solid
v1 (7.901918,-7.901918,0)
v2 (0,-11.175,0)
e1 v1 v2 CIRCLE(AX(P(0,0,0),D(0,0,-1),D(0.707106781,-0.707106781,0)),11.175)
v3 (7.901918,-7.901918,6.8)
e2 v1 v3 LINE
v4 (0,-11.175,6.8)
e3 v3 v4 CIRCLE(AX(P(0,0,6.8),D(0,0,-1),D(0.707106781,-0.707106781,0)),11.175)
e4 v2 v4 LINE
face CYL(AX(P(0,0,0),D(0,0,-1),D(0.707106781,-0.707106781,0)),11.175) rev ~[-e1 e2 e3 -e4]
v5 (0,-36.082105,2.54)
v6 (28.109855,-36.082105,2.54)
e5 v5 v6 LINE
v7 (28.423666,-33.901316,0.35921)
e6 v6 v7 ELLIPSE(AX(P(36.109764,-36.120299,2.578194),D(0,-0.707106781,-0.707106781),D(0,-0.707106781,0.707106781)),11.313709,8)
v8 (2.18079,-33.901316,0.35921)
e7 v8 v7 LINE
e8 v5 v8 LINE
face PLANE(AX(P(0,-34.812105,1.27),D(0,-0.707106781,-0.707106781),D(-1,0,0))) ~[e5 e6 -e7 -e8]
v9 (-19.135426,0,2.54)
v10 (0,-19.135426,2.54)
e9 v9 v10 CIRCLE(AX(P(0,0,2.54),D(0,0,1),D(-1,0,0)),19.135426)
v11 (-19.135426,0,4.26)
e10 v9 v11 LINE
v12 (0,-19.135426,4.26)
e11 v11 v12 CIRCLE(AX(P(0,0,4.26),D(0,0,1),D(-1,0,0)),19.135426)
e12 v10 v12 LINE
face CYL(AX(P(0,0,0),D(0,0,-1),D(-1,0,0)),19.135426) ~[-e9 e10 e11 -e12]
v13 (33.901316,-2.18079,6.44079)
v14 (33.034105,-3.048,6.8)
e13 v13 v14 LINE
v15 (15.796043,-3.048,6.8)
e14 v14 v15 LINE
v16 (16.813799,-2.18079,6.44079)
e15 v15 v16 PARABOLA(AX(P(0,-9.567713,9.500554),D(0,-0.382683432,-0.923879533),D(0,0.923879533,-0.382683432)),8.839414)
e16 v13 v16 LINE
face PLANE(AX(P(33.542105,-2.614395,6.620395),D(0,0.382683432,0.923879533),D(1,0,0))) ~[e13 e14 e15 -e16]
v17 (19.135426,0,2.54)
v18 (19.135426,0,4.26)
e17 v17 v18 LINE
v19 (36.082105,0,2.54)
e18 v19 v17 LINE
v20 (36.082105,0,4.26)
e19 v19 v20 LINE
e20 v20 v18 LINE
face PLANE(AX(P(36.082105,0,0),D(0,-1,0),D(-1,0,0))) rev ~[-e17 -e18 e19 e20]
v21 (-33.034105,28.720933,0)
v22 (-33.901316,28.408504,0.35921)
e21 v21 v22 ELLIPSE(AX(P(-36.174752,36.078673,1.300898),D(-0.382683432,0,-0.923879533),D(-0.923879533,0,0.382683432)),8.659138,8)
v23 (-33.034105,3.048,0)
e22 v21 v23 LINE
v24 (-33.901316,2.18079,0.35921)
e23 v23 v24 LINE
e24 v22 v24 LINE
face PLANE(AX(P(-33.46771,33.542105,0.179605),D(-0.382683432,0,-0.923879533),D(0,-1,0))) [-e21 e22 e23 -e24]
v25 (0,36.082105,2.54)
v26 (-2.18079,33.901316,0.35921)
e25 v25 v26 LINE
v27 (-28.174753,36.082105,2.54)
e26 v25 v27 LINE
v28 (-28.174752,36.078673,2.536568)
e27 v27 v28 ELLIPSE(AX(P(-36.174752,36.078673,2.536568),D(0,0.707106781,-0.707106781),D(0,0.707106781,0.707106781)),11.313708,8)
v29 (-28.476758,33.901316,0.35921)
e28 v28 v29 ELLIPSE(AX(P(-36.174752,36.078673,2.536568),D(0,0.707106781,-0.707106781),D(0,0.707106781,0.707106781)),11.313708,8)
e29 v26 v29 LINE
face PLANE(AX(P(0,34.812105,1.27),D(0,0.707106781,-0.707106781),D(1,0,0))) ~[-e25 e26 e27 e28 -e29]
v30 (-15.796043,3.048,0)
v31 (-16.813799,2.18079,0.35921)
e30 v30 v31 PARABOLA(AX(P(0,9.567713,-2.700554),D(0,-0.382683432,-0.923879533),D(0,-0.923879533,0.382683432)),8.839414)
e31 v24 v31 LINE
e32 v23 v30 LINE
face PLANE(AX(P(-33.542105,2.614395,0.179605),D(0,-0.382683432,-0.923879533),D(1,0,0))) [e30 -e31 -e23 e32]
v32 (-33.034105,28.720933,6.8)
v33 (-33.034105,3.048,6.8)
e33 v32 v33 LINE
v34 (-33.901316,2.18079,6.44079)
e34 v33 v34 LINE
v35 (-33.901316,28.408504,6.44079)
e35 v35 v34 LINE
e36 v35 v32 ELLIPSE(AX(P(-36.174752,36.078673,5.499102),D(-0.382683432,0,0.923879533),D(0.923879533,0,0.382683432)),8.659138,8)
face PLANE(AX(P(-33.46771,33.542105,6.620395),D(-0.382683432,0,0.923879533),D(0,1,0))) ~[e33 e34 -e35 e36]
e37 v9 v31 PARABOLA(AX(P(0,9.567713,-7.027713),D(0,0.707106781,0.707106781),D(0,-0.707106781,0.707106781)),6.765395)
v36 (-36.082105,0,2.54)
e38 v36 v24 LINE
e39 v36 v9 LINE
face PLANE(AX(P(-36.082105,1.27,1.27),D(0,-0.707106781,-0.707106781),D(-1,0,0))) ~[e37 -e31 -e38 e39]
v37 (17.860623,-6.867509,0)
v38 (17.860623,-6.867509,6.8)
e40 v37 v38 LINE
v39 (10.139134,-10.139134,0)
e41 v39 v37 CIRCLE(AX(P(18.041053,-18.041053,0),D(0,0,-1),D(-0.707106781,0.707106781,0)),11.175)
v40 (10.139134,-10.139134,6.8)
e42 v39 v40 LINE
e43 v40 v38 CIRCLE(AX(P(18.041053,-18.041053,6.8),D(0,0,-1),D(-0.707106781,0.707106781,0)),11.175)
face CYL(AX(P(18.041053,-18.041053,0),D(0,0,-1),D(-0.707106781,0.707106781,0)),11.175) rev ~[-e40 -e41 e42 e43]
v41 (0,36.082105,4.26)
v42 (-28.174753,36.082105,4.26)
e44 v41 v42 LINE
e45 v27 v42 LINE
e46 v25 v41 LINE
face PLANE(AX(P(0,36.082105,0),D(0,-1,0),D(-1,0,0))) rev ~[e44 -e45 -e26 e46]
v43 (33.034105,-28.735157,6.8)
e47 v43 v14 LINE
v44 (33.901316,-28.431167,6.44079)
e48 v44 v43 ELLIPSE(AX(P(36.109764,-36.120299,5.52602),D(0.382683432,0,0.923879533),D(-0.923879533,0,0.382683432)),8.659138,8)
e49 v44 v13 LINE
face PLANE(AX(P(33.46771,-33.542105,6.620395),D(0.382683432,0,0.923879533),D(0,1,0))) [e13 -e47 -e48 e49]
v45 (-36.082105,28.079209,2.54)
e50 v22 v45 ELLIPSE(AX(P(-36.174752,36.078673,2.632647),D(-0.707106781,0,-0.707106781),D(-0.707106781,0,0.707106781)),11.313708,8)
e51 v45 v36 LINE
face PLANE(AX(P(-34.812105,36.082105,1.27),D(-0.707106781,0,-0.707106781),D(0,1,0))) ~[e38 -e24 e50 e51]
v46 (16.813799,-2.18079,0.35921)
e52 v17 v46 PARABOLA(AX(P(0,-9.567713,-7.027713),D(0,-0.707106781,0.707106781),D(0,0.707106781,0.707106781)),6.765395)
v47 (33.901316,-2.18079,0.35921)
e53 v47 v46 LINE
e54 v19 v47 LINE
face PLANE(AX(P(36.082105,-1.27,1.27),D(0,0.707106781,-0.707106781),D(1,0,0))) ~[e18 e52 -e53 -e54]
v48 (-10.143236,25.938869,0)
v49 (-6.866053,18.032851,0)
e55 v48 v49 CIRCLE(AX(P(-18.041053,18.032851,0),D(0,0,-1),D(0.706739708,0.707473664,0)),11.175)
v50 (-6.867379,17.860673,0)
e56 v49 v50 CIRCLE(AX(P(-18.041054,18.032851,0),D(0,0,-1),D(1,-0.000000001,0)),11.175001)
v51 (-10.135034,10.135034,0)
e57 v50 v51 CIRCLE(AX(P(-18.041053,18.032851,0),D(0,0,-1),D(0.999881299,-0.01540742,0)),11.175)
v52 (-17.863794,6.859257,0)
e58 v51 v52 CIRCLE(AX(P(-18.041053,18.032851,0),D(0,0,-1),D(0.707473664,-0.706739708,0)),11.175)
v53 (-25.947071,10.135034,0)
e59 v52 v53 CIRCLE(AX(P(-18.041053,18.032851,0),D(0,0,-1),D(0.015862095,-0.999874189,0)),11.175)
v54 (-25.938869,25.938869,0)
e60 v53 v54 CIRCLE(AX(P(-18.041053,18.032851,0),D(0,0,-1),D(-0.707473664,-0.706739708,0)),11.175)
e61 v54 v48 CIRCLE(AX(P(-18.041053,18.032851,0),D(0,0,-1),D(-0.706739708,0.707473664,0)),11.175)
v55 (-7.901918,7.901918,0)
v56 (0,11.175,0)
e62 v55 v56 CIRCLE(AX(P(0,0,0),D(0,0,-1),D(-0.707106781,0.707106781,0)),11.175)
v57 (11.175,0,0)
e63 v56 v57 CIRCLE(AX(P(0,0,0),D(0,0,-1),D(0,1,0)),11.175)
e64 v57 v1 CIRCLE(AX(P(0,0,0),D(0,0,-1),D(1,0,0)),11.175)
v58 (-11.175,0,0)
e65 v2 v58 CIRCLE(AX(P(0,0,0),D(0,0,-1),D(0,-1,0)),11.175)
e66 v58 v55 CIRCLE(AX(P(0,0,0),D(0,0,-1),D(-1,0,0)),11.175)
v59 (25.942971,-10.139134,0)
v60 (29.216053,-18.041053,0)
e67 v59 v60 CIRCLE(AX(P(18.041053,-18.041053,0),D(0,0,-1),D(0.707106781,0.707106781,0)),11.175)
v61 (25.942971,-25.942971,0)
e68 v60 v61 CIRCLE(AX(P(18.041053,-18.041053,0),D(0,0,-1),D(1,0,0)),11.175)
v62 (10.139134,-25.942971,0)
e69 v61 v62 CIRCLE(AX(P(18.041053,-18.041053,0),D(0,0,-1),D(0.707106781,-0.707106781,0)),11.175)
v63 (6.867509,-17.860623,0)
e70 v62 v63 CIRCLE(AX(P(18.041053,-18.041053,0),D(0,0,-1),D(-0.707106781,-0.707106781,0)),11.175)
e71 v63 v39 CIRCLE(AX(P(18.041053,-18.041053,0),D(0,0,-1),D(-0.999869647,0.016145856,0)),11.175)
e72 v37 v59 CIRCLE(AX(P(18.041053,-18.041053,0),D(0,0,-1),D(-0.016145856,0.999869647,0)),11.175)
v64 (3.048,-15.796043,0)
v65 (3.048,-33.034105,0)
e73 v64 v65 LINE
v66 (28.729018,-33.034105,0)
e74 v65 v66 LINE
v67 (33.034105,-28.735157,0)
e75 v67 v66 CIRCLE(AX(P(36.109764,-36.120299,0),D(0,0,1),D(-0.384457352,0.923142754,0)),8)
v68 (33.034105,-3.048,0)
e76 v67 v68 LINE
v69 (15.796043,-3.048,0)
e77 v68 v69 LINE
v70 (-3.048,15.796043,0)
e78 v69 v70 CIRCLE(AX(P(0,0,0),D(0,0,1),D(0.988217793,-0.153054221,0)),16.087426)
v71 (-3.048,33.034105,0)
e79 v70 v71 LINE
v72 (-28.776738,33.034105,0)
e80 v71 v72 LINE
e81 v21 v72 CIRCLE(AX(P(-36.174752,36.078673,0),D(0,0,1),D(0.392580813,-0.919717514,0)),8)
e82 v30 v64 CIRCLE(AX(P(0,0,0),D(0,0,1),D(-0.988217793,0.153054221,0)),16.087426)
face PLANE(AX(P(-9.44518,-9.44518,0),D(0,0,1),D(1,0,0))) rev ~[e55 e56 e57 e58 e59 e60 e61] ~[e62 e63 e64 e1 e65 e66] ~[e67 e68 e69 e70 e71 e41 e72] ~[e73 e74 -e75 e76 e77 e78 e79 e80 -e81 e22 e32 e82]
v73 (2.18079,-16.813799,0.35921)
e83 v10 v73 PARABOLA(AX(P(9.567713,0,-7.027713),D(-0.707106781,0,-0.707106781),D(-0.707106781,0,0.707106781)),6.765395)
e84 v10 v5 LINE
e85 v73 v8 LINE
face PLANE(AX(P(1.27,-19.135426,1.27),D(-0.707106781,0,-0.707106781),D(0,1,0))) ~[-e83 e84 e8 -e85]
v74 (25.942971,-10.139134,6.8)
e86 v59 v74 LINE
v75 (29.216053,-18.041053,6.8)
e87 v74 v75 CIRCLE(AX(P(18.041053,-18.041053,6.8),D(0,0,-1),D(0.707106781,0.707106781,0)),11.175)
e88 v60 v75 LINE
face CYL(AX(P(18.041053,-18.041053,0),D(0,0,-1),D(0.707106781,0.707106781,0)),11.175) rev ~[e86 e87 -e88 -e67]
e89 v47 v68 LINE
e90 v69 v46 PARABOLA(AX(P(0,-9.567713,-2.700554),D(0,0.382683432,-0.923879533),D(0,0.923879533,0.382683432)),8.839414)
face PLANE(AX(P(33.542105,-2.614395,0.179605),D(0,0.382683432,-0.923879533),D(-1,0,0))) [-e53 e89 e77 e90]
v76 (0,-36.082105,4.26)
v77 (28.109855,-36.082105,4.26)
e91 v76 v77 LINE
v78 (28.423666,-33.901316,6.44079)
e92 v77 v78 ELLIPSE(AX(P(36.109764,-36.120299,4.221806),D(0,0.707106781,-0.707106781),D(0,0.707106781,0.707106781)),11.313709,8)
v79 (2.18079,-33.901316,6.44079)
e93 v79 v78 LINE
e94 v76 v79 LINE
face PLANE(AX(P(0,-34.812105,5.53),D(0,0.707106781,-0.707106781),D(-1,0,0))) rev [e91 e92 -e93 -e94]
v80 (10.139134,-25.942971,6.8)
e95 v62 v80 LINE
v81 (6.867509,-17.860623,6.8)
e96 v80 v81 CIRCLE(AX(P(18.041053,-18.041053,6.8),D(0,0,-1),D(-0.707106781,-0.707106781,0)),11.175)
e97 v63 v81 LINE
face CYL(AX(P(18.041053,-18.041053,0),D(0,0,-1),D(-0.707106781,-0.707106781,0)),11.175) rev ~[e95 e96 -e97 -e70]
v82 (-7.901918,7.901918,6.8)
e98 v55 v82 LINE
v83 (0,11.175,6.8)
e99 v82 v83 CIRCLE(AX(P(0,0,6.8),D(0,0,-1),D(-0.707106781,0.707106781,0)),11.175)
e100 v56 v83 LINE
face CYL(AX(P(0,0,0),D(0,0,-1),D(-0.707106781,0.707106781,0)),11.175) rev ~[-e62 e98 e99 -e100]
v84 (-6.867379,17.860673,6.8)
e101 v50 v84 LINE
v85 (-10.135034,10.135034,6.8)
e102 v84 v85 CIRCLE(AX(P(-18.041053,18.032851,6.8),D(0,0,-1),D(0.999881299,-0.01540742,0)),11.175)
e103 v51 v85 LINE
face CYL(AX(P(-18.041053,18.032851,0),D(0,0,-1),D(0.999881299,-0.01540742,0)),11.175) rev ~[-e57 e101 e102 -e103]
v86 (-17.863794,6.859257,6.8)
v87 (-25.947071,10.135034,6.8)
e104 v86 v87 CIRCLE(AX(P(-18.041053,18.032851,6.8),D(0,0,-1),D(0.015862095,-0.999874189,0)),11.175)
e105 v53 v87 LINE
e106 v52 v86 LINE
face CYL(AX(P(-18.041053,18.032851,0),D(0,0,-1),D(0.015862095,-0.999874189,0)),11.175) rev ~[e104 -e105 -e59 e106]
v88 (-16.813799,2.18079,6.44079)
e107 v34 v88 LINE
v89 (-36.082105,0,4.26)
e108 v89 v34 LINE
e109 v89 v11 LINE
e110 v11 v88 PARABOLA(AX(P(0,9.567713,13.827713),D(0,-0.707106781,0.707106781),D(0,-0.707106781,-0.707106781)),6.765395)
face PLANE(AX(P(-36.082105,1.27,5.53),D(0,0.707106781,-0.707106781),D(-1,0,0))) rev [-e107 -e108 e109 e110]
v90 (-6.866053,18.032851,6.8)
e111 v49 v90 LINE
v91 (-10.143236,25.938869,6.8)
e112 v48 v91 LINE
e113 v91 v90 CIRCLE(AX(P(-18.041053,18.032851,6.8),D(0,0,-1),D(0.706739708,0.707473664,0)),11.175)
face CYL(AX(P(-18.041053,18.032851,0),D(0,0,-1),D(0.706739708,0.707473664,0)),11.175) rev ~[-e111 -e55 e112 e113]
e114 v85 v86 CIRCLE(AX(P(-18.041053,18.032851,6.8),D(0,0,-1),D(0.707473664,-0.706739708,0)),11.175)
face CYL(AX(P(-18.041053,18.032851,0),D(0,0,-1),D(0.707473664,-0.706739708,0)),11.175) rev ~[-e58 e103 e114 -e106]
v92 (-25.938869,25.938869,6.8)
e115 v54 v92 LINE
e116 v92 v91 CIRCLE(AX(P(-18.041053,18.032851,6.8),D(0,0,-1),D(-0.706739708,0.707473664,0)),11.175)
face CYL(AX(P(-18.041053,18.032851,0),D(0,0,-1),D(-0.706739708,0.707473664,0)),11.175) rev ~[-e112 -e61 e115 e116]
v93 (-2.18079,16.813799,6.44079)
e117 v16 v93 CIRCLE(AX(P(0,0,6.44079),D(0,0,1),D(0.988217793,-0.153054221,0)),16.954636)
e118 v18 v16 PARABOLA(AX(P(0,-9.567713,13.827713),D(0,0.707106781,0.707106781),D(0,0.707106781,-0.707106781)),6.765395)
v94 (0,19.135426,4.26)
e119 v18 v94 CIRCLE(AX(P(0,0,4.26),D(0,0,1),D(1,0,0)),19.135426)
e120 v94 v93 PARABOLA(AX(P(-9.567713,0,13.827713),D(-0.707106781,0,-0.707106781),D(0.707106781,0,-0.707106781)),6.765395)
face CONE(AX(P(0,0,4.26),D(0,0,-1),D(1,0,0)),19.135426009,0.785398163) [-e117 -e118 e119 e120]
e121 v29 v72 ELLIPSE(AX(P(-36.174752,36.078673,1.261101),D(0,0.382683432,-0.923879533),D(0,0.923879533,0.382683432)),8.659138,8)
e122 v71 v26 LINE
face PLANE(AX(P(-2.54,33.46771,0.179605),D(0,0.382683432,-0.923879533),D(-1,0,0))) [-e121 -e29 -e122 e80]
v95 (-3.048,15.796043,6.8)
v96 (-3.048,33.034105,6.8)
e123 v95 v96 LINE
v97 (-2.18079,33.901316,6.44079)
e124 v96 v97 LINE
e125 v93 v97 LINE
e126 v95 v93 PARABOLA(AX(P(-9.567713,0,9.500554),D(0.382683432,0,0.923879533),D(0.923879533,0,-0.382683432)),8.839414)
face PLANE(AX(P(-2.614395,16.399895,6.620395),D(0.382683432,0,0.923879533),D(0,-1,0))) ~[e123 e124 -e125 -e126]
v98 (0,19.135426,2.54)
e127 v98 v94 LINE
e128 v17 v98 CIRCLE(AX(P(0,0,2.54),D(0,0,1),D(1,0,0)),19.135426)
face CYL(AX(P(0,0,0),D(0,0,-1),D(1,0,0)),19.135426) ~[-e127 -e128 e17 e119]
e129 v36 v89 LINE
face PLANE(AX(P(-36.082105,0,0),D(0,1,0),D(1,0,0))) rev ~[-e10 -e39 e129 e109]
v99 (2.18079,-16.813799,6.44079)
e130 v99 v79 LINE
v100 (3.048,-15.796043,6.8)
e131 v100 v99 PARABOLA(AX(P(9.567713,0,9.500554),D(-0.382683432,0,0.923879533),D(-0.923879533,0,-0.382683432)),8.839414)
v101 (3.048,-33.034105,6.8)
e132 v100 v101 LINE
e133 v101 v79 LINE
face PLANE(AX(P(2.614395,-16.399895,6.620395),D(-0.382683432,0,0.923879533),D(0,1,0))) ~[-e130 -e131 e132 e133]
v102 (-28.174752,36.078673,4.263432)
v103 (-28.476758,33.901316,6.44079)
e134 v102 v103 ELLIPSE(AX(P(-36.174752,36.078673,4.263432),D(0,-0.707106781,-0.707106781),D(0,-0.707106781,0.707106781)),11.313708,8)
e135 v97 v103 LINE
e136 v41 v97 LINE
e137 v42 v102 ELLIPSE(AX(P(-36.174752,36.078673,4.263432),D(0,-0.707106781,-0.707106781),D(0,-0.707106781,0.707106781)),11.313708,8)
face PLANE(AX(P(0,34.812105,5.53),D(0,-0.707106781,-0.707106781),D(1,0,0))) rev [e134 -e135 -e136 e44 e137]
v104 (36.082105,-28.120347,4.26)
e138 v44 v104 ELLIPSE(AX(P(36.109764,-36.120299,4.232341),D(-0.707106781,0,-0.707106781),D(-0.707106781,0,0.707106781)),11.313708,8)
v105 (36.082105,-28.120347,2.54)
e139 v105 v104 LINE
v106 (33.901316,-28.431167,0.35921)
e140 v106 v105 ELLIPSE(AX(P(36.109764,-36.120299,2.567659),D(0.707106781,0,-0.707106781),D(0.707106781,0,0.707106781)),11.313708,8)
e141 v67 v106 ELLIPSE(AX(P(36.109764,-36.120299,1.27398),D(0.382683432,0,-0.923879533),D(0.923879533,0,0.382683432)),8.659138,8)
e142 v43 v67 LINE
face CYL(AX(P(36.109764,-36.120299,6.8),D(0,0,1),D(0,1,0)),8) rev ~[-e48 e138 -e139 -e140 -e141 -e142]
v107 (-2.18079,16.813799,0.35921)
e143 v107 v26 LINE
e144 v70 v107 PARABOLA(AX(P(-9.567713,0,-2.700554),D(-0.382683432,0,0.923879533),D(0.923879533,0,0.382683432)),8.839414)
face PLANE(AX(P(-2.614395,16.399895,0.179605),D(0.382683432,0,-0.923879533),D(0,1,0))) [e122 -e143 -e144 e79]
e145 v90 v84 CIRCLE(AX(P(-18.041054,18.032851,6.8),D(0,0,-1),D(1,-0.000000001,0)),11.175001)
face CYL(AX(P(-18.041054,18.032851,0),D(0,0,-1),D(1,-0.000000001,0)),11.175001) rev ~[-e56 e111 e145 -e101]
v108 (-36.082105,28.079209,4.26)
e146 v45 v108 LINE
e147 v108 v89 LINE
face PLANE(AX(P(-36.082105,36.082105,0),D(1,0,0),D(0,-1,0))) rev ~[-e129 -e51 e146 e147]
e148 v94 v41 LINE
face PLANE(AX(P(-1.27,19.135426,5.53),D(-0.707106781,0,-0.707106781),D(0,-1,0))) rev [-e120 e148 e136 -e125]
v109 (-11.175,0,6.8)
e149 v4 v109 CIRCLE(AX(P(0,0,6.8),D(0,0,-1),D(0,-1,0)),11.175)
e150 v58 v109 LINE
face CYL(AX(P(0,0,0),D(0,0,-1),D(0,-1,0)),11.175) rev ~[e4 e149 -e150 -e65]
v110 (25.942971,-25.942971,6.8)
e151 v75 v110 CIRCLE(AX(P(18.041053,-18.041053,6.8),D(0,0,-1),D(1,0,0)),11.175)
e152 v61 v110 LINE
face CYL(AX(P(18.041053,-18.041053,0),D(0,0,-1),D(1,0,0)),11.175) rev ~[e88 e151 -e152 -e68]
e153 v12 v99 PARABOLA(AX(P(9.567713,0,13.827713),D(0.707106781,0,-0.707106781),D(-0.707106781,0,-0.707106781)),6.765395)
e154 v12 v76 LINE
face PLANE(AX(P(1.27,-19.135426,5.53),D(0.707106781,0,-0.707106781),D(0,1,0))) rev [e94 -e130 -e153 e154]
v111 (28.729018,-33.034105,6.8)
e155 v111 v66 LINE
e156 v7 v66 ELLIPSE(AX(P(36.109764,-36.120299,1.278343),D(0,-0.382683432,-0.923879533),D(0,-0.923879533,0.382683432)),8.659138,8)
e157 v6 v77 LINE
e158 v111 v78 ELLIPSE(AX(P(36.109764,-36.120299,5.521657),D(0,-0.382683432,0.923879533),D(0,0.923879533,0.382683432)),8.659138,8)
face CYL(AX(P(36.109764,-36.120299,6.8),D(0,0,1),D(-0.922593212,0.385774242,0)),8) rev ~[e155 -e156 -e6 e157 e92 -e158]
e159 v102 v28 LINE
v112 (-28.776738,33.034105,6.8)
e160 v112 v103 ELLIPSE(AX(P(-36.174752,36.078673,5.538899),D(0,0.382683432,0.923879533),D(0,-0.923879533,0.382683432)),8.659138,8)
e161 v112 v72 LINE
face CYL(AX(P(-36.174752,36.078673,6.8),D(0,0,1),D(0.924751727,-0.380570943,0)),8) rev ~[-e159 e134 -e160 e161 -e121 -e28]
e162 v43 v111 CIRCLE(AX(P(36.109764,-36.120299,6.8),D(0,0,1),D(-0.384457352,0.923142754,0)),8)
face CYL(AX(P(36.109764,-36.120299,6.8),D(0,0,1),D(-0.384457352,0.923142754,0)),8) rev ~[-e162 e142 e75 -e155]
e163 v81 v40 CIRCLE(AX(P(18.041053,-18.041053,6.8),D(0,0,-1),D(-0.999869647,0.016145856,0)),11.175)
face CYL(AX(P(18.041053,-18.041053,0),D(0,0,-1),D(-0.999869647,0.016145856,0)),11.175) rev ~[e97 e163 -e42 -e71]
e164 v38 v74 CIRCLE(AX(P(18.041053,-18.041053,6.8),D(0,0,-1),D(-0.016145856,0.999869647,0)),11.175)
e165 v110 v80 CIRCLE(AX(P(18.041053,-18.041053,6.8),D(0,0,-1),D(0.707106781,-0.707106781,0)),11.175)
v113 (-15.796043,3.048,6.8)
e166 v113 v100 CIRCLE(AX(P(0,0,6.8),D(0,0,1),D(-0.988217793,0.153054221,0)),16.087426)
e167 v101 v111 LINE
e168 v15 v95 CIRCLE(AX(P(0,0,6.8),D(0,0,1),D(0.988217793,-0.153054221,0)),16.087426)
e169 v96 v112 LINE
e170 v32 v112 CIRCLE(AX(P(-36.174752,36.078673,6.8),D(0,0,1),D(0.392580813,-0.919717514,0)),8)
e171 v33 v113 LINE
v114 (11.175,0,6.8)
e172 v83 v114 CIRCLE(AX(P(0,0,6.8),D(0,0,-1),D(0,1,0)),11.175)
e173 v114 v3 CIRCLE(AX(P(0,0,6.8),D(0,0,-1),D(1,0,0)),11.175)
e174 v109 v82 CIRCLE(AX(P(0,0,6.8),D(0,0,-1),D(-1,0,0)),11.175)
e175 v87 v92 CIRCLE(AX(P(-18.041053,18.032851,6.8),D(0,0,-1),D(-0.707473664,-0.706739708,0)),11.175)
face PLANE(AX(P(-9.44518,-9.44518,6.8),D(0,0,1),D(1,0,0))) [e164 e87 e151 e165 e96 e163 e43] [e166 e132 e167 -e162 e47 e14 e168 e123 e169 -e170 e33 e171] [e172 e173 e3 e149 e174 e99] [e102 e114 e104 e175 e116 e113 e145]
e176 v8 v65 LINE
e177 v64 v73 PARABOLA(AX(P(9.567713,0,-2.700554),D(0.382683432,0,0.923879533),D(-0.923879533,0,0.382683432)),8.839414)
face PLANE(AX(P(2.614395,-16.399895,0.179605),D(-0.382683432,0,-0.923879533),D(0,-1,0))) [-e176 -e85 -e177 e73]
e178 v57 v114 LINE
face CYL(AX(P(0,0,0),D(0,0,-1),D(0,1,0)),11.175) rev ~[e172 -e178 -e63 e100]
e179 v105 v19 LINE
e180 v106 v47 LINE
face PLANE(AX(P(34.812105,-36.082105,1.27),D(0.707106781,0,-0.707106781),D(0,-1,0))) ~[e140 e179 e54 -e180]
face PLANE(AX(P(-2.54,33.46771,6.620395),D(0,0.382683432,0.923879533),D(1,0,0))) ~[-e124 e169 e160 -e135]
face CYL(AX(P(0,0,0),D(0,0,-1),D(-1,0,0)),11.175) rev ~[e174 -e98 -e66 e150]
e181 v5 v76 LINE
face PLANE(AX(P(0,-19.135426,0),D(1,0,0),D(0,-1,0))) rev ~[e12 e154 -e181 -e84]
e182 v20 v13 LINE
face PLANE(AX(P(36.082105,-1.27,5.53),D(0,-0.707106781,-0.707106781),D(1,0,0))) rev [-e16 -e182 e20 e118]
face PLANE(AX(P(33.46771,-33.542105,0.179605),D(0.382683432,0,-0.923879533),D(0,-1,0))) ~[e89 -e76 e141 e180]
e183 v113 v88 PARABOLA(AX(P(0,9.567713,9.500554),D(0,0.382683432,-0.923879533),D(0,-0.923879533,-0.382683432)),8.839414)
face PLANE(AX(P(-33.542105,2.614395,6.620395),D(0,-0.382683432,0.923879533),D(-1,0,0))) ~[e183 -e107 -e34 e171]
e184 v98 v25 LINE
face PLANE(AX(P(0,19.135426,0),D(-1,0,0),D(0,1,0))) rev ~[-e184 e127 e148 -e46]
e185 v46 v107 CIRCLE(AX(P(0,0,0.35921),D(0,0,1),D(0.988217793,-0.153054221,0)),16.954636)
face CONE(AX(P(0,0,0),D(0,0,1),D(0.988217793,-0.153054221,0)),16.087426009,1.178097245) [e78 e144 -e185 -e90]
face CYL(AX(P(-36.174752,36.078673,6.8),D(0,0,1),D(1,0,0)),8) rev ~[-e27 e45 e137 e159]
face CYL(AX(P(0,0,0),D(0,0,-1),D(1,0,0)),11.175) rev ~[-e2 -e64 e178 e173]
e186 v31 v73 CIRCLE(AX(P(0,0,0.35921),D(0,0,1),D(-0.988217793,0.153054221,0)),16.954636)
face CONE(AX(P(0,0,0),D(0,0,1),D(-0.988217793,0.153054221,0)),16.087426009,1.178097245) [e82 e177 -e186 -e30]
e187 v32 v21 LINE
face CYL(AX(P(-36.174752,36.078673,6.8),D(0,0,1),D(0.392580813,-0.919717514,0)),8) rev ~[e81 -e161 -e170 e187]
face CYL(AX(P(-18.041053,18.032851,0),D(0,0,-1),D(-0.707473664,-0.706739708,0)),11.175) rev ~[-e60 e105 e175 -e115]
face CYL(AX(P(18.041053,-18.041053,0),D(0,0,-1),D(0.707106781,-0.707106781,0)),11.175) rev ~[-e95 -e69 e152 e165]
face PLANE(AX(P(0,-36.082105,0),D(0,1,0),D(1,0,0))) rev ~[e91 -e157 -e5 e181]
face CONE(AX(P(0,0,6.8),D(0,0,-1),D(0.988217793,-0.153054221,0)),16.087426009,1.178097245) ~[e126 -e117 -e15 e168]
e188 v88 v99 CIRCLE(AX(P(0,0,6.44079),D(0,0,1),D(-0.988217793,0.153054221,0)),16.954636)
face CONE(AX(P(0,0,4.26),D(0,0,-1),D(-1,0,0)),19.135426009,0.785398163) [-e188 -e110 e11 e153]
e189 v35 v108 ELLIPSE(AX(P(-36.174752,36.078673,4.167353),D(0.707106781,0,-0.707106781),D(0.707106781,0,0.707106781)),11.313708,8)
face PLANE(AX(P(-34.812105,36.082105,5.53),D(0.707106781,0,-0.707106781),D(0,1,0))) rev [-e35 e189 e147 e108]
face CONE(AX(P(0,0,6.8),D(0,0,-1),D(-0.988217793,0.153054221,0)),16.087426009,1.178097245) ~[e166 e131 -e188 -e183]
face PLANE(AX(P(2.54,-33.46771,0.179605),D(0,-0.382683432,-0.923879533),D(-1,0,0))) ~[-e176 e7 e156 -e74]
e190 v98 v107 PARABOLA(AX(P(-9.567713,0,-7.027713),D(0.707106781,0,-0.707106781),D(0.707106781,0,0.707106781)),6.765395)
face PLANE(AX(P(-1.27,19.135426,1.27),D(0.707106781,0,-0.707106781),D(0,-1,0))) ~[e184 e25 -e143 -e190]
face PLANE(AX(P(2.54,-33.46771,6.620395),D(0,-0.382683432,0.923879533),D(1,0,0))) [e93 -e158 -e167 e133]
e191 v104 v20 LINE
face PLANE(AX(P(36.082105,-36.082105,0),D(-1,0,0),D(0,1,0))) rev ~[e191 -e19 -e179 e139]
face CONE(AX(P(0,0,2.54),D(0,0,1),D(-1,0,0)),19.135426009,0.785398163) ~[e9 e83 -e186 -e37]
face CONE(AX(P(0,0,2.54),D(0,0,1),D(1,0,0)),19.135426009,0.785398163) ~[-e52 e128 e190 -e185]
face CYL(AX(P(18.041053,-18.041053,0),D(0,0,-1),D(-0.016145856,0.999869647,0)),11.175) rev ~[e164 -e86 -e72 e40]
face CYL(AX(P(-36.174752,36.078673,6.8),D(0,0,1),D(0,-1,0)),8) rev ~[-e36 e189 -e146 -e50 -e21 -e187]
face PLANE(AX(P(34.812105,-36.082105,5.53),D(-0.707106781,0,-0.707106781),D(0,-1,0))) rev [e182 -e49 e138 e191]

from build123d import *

# Parameters (mm, degrees)
F1_DEPTH = 6.8
F2_SIZE  = 2.54
F3_SIZE  = 0.508
F5_DEPTH = 6.801


with BuildPart() as f1:
    # F0 (on Top) → F1 (new body)
    with BuildSketch(Plane.XY):
        with BuildLine():
            ThreePointArc((0, -11.175), (-7.9019182798, -7.9019182798), (-11.175, 0))
            Line((-11.175, 0), (-19.135426009, 0))
            ThreePointArc((-19.135426009, 0), (-13.5307894918, -13.5307894918), (0, -19.135426009))
            Line((0, -19.135426009), (0, -11.175))
        make_face()
        with BuildLine():
            Line((-19.135426009, 0), (-11.175, 0))
            ThreePointArc((-11.175, 0), (-10.3243537758, 4.2764873567), (-7.9019182798, 7.9019182798))
            Line((-7.9019182798, 7.9019182798), (-10.1350344611, 10.1350344611))
            ThreePointArc((-10.1350344611, 10.1350344611), (-13.6801442317, 7.7438710244), (-17.8637937449, 6.8592566349))
            ThreePointArc((-17.8637937449, 6.8592566349), (-18.8148323403, 3.4880671653), (-19.135426009, 0))
        make_face()
        with BuildLine():
            ThreePointArc((-7.9019182798, 7.9019182798), (-4.2764873567, 10.3243537758), (0, 11.175))
            Line((0, 11.175), (0, 19.135426009))
            ThreePointArc((0, 19.135426009), (-3.4923449173, 18.8140387882), (-6.8673791432, 17.8606727826))
            ThreePointArc((-6.8673791432, 17.8606727826), (-7.7488210815, 13.6796226746), (-10.1350344611, 10.1350344611))
            Line((-10.1350344611, 10.1350344611), (-7.9019182798, 7.9019182798))
        make_face()
        with BuildLine():
            Line((0, 19.135426009), (0, 11.175))
            ThreePointArc((0, 11.175), (7.9019182798, 7.9019182798), (11.175, 0))
            Line((11.175, 0), (19.135426009, 0))
            ThreePointArc((19.135426009, 0), (13.5307894918, 13.5307894918), (0, 19.135426009))
        make_face()
        with BuildLine():
            Line((19.135426009, 0), (11.175, 0))
            ThreePointArc((11.175, 0), (10.3243537758, -4.2764873567), (7.9019182798, -7.9019182798))
            Line((7.9019182798, -7.9019182798), (10.139134376, -10.139134376))
            ThreePointArc((10.139134376, -10.139134376), (13.6813541851, -7.7515602366), (17.8606227185, -6.8675093486))
            ThreePointArc((17.8606227185, -6.8675093486), (18.8140260583, -3.4924134951), (19.135426009, 0))
        make_face()
        with BuildLine():
            ThreePointArc((7.9019182798, -7.9019182798), (4.2764873567, -10.3243537758), (0, -11.175))
            Line((0, -11.175), (0, -19.135426009))
            ThreePointArc((0, -19.135426009), (3.4924134951, -18.8140260583), (6.8675093486, -17.8606227185))
            ThreePointArc((6.8675093486, -17.8606227185), (7.7515602366, -13.6813541851), (10.139134376, -10.139134376))
            Line((10.139134376, -10.139134376), (7.9019182798, -7.9019182798))
        make_face()
        with BuildLine():
            Line((-36.0821053116, 0), (-19.135426009, 0))
            ThreePointArc((-19.135426009, 0), (-18.8148323403, 3.4880671653), (-17.8637937449, 6.8592566349))
            ThreePointArc((-17.8637937449, 6.8592566349), (-22.2382076575, 7.6759923472), (-25.9470708504, 10.1350344611))
            Line((-25.9470708504, 10.1350344611), (-36.0821053116, 0))
        make_face()
        with BuildLine():
            ThreePointArc((-6.8673791432, 17.8606727826), (-3.4923449173, 18.8140387882), (0, 19.135426009))
            Line((0, 19.135426009), (0, 36.0821053116))
            Line((0, 36.0821053116), (-10.1432364193, 25.9388688923))
            ThreePointArc((-10.1432364193, 25.9388688923), (-7.7178089445, 22.3120170041), (-6.8660526558, 18.0328506976))
            ThreePointArc((-6.8660526558, 18.0328506976), (-6.8663842826, 17.9467591853), (-6.8673791432, 17.8606727826))
        make_face()
        with BuildLine():
            Line((36.0821053116, 0), (19.135426009, 0))
            ThreePointArc((19.135426009, 0), (18.8140260583, -3.4924134951), (17.8606227185, -6.8675093486))
            ThreePointArc((17.8606227185, -6.8675093486), (22.2340501678, -7.6825104386), (25.9429709355, -10.139134376))
            Line((25.9429709355, -10.139134376), (36.0821053116, 0))
        make_face()
        with BuildLine():
            ThreePointArc((6.8675093486, -17.8606227185), (3.4924134951, -18.8140260583), (0, -19.135426009))
            Line((0, -19.135426009), (0, -36.0821053116))
            Line((0, -36.0821053116), (10.139134376, -25.9429709355))
            ThreePointArc((10.139134376, -25.9429709355), (7.6825104386, -22.2340501678), (6.8675093486, -17.8606227185))
        make_face()
        with BuildLine():
            Line((-36.0821053116, 36.0821053116), (-36.0821053116, 0))
            Line((-36.0821053116, 0), (-25.9470708504, 10.1350344611))
            ThreePointArc((-25.9470708504, 10.1350344611), (-29.2160511508, 18.0386503579), (-25.9388688923, 25.9388688923))
            Line((-25.9388688923, 25.9388688923), (-36.0821053116, 36.0821053116))
        make_face()
        with BuildLine():
            Line((-10.1432364193, 25.9388688923), (0, 36.0821053116))
            Line((0, 36.0821053116), (-36.0821053116, 36.0821053116))
            Line((-36.0821053116, 36.0821053116), (-25.9388688923, 25.9388688923))
            ThreePointArc((-25.9388688923, 25.9388688923), (-18.0410526558, 29.2078506976), (-10.1432364193, 25.9388688923))
        make_face()
        with BuildLine():
            Line((36.0821053116, -36.0821053116), (36.0821053116, 0))
            Line((36.0821053116, 0), (25.9429709355, -10.139134376))
            ThreePointArc((25.9429709355, -10.139134376), (28.3654064316, -13.7645652991), (29.2160526558, -18.0410526558))
            ThreePointArc((29.2160526558, -18.0410526558), (28.3654064316, -22.3175400125), (25.9429709355, -25.9429709355))
            Line((25.9429709355, -25.9429709355), (36.0821053116, -36.0821053116))
        make_face()
        with BuildLine():
            Line((10.139134376, -25.9429709355), (0, -36.0821053116))
            Line((0, -36.0821053116), (36.0821053116, -36.0821053116))
            Line((36.0821053116, -36.0821053116), (25.9429709355, -25.9429709355))
            ThreePointArc((25.9429709355, -25.9429709355), (18.0410526558, -29.2160526558), (10.139134376, -25.9429709355))
        make_face()
    extrude(amount=F1_DEPTH)

    # F2
    f2_edges = [f1.edges().sort_by_distance(p)[0] for p in [
        (-13.530789, -13.530789, 6.8),
        (-13.530789, -13.530789, 0),
        (-27.608766, 0, 6.8),
        (-27.608766, 0, 0),
        (18.041053, -36.082105, 6.8),
        (18.041053, -36.082105, 0),
        (0, -27.608766, 0),
        (0, -27.608766, 6.8),
        (36.082105, -18.041053, 6.8),
        (36.082105, -18.041053, 0),
        (27.608766, 0, 0),
        (27.608766, 0, 6.8),
        (13.530789, 13.530789, 6.8),
        (13.530789, 13.530789, 0),
        (0, 27.608766, 6.8),
        (0, 27.608766, 0),
        (-18.041053, 36.082105, 0),
        (-18.041053, 36.082105, 6.8),
        (-36.082105, 18.041053, 6.8),
        (-36.082105, 18.041053, 0),
    ]]
    chamfer(f2_edges, length=F2_SIZE)

    # F3
    f3_edges = [f1.edges().sort_by_distance(p)[0] for p in [
        (-33.542105, 18.041053, 6.8),
        (-24.971, 2.54, 6.8),
        (-11.734738, -11.734738, 6.8),
        (2.54, -24.971, 6.8),
        (18.041053, -33.542105, 6.8),
        (33.542105, -18.041053, 6.8),
        (24.971, -2.54, 6.8),
        (11.734738, 11.734738, 6.8),
        (-2.54, 24.971, 6.8),
        (-18.041053, 33.542105, 6.8),
        (33.542105, -18.041053, 0),
        (18.041053, -33.542105, 0),
        (2.54, -24.971, 0),
        (-11.734738, -11.734738, 0),
        (-24.971, 2.54, 0),
        (-33.542105, 18.041053, 0),
        (-18.041053, 33.542105, 0),
        (-2.54, 24.971, 0),
        (11.734738, 11.734738, 0),
        (24.971, -2.54, 0),
    ]]
    chamfer(f3_edges, length=F3_SIZE)

    # F4 (on face) → F5 (cut, through all)
    with BuildSketch(Plane.XY.offset(6.8)):
        with BuildLine():
            Line((-36.1747518182, 36.0786728561), (-28.1747518182, 36.0786728561))
            ThreePointArc((-28.1747518182, 36.0786728561), (-41.8316060677, 41.7355271056), (-36.1747518182, 28.0786728561))
            Line((-36.1747518182, 28.0786728561), (-36.1747518182, 36.0786728561))
        make_face()
        with BuildLine():
            Line((-28.7767379991, 33.0341053116), (-33.0341053116, 33.0341053116))
            Line((-33.0341053116, 33.0341053116), (-33.0341053116, 28.7209327465))
            ThreePointArc((-33.0341053116, 28.7209327465), (-30.4811848555, 30.4587711451), (-28.7767379991, 33.0341053116))
        make_face()
        with BuildLine():
            Line((-33.0341053116, 28.7209327465), (-33.0341053116, 33.0341053116))
            Line((-33.0341053116, 33.0341053116), (-28.7767379991, 33.0341053116))
            ThreePointArc((-28.7767379991, 33.0341053116), (-28.3266912121, 34.5269174875), (-28.1747518182, 36.0786728561))
            Line((-28.1747518182, 36.0786728561), (-36.1747518182, 36.0786728561))
            Line((-36.1747518182, 36.0786728561), (-36.1747518182, 28.0786728561))
            ThreePointArc((-36.1747518182, 28.0786728561), (-34.5719294445, 28.2408823231), (-33.0341053116, 28.7209327465))
        make_face()
        with BuildLine():
            Line((36.1097641289, -36.1202992499), (36.1097641289, -28.1202992499))
            ThreePointArc((36.1097641289, -28.1202992499), (34.5415065384, -28.2755195761), (33.0341053116, -28.7351572175))
            Line((33.0341053116, -28.7351572175), (33.0341053116, -33.0341053116))
            Line((33.0341053116, -33.0341053116), (28.7290184366, -33.0341053116))
            ThreePointArc((28.7290184366, -33.0341053116), (28.2661053673, -34.5464449902), (28.1097641289, -36.1202992499))
            Line((28.1097641289, -36.1202992499), (36.1097641289, -36.1202992499))
        make_face()
        with BuildLine():
            ThreePointArc((44.1097641289, -36.1202992499), (41.7666183784, -30.4634450004), (36.1097641289, -28.1202992499))
            Line((36.1097641289, -28.1202992499), (36.1097641289, -36.1202992499))
            Line((36.1097641289, -36.1202992499), (28.1097641289, -36.1202992499))
            ThreePointArc((28.1097641289, -36.1202992499), (36.1097641289, -44.1202992499), (44.1097641289, -36.1202992499))
        make_face()
        with BuildLine():
            Line((33.0341053116, -33.0341053116), (33.0341053116, -28.7351572175))
            ThreePointArc((33.0341053116, -28.7351572175), (30.4569473535, -30.459410406), (28.7290184366, -33.0341053116))
            Line((28.7290184366, -33.0341053116), (33.0341053116, -33.0341053116))
        make_face()
    extrude(amount=-F5_DEPTH, mode=Mode.SUBTRACT)


solid = f1.part
